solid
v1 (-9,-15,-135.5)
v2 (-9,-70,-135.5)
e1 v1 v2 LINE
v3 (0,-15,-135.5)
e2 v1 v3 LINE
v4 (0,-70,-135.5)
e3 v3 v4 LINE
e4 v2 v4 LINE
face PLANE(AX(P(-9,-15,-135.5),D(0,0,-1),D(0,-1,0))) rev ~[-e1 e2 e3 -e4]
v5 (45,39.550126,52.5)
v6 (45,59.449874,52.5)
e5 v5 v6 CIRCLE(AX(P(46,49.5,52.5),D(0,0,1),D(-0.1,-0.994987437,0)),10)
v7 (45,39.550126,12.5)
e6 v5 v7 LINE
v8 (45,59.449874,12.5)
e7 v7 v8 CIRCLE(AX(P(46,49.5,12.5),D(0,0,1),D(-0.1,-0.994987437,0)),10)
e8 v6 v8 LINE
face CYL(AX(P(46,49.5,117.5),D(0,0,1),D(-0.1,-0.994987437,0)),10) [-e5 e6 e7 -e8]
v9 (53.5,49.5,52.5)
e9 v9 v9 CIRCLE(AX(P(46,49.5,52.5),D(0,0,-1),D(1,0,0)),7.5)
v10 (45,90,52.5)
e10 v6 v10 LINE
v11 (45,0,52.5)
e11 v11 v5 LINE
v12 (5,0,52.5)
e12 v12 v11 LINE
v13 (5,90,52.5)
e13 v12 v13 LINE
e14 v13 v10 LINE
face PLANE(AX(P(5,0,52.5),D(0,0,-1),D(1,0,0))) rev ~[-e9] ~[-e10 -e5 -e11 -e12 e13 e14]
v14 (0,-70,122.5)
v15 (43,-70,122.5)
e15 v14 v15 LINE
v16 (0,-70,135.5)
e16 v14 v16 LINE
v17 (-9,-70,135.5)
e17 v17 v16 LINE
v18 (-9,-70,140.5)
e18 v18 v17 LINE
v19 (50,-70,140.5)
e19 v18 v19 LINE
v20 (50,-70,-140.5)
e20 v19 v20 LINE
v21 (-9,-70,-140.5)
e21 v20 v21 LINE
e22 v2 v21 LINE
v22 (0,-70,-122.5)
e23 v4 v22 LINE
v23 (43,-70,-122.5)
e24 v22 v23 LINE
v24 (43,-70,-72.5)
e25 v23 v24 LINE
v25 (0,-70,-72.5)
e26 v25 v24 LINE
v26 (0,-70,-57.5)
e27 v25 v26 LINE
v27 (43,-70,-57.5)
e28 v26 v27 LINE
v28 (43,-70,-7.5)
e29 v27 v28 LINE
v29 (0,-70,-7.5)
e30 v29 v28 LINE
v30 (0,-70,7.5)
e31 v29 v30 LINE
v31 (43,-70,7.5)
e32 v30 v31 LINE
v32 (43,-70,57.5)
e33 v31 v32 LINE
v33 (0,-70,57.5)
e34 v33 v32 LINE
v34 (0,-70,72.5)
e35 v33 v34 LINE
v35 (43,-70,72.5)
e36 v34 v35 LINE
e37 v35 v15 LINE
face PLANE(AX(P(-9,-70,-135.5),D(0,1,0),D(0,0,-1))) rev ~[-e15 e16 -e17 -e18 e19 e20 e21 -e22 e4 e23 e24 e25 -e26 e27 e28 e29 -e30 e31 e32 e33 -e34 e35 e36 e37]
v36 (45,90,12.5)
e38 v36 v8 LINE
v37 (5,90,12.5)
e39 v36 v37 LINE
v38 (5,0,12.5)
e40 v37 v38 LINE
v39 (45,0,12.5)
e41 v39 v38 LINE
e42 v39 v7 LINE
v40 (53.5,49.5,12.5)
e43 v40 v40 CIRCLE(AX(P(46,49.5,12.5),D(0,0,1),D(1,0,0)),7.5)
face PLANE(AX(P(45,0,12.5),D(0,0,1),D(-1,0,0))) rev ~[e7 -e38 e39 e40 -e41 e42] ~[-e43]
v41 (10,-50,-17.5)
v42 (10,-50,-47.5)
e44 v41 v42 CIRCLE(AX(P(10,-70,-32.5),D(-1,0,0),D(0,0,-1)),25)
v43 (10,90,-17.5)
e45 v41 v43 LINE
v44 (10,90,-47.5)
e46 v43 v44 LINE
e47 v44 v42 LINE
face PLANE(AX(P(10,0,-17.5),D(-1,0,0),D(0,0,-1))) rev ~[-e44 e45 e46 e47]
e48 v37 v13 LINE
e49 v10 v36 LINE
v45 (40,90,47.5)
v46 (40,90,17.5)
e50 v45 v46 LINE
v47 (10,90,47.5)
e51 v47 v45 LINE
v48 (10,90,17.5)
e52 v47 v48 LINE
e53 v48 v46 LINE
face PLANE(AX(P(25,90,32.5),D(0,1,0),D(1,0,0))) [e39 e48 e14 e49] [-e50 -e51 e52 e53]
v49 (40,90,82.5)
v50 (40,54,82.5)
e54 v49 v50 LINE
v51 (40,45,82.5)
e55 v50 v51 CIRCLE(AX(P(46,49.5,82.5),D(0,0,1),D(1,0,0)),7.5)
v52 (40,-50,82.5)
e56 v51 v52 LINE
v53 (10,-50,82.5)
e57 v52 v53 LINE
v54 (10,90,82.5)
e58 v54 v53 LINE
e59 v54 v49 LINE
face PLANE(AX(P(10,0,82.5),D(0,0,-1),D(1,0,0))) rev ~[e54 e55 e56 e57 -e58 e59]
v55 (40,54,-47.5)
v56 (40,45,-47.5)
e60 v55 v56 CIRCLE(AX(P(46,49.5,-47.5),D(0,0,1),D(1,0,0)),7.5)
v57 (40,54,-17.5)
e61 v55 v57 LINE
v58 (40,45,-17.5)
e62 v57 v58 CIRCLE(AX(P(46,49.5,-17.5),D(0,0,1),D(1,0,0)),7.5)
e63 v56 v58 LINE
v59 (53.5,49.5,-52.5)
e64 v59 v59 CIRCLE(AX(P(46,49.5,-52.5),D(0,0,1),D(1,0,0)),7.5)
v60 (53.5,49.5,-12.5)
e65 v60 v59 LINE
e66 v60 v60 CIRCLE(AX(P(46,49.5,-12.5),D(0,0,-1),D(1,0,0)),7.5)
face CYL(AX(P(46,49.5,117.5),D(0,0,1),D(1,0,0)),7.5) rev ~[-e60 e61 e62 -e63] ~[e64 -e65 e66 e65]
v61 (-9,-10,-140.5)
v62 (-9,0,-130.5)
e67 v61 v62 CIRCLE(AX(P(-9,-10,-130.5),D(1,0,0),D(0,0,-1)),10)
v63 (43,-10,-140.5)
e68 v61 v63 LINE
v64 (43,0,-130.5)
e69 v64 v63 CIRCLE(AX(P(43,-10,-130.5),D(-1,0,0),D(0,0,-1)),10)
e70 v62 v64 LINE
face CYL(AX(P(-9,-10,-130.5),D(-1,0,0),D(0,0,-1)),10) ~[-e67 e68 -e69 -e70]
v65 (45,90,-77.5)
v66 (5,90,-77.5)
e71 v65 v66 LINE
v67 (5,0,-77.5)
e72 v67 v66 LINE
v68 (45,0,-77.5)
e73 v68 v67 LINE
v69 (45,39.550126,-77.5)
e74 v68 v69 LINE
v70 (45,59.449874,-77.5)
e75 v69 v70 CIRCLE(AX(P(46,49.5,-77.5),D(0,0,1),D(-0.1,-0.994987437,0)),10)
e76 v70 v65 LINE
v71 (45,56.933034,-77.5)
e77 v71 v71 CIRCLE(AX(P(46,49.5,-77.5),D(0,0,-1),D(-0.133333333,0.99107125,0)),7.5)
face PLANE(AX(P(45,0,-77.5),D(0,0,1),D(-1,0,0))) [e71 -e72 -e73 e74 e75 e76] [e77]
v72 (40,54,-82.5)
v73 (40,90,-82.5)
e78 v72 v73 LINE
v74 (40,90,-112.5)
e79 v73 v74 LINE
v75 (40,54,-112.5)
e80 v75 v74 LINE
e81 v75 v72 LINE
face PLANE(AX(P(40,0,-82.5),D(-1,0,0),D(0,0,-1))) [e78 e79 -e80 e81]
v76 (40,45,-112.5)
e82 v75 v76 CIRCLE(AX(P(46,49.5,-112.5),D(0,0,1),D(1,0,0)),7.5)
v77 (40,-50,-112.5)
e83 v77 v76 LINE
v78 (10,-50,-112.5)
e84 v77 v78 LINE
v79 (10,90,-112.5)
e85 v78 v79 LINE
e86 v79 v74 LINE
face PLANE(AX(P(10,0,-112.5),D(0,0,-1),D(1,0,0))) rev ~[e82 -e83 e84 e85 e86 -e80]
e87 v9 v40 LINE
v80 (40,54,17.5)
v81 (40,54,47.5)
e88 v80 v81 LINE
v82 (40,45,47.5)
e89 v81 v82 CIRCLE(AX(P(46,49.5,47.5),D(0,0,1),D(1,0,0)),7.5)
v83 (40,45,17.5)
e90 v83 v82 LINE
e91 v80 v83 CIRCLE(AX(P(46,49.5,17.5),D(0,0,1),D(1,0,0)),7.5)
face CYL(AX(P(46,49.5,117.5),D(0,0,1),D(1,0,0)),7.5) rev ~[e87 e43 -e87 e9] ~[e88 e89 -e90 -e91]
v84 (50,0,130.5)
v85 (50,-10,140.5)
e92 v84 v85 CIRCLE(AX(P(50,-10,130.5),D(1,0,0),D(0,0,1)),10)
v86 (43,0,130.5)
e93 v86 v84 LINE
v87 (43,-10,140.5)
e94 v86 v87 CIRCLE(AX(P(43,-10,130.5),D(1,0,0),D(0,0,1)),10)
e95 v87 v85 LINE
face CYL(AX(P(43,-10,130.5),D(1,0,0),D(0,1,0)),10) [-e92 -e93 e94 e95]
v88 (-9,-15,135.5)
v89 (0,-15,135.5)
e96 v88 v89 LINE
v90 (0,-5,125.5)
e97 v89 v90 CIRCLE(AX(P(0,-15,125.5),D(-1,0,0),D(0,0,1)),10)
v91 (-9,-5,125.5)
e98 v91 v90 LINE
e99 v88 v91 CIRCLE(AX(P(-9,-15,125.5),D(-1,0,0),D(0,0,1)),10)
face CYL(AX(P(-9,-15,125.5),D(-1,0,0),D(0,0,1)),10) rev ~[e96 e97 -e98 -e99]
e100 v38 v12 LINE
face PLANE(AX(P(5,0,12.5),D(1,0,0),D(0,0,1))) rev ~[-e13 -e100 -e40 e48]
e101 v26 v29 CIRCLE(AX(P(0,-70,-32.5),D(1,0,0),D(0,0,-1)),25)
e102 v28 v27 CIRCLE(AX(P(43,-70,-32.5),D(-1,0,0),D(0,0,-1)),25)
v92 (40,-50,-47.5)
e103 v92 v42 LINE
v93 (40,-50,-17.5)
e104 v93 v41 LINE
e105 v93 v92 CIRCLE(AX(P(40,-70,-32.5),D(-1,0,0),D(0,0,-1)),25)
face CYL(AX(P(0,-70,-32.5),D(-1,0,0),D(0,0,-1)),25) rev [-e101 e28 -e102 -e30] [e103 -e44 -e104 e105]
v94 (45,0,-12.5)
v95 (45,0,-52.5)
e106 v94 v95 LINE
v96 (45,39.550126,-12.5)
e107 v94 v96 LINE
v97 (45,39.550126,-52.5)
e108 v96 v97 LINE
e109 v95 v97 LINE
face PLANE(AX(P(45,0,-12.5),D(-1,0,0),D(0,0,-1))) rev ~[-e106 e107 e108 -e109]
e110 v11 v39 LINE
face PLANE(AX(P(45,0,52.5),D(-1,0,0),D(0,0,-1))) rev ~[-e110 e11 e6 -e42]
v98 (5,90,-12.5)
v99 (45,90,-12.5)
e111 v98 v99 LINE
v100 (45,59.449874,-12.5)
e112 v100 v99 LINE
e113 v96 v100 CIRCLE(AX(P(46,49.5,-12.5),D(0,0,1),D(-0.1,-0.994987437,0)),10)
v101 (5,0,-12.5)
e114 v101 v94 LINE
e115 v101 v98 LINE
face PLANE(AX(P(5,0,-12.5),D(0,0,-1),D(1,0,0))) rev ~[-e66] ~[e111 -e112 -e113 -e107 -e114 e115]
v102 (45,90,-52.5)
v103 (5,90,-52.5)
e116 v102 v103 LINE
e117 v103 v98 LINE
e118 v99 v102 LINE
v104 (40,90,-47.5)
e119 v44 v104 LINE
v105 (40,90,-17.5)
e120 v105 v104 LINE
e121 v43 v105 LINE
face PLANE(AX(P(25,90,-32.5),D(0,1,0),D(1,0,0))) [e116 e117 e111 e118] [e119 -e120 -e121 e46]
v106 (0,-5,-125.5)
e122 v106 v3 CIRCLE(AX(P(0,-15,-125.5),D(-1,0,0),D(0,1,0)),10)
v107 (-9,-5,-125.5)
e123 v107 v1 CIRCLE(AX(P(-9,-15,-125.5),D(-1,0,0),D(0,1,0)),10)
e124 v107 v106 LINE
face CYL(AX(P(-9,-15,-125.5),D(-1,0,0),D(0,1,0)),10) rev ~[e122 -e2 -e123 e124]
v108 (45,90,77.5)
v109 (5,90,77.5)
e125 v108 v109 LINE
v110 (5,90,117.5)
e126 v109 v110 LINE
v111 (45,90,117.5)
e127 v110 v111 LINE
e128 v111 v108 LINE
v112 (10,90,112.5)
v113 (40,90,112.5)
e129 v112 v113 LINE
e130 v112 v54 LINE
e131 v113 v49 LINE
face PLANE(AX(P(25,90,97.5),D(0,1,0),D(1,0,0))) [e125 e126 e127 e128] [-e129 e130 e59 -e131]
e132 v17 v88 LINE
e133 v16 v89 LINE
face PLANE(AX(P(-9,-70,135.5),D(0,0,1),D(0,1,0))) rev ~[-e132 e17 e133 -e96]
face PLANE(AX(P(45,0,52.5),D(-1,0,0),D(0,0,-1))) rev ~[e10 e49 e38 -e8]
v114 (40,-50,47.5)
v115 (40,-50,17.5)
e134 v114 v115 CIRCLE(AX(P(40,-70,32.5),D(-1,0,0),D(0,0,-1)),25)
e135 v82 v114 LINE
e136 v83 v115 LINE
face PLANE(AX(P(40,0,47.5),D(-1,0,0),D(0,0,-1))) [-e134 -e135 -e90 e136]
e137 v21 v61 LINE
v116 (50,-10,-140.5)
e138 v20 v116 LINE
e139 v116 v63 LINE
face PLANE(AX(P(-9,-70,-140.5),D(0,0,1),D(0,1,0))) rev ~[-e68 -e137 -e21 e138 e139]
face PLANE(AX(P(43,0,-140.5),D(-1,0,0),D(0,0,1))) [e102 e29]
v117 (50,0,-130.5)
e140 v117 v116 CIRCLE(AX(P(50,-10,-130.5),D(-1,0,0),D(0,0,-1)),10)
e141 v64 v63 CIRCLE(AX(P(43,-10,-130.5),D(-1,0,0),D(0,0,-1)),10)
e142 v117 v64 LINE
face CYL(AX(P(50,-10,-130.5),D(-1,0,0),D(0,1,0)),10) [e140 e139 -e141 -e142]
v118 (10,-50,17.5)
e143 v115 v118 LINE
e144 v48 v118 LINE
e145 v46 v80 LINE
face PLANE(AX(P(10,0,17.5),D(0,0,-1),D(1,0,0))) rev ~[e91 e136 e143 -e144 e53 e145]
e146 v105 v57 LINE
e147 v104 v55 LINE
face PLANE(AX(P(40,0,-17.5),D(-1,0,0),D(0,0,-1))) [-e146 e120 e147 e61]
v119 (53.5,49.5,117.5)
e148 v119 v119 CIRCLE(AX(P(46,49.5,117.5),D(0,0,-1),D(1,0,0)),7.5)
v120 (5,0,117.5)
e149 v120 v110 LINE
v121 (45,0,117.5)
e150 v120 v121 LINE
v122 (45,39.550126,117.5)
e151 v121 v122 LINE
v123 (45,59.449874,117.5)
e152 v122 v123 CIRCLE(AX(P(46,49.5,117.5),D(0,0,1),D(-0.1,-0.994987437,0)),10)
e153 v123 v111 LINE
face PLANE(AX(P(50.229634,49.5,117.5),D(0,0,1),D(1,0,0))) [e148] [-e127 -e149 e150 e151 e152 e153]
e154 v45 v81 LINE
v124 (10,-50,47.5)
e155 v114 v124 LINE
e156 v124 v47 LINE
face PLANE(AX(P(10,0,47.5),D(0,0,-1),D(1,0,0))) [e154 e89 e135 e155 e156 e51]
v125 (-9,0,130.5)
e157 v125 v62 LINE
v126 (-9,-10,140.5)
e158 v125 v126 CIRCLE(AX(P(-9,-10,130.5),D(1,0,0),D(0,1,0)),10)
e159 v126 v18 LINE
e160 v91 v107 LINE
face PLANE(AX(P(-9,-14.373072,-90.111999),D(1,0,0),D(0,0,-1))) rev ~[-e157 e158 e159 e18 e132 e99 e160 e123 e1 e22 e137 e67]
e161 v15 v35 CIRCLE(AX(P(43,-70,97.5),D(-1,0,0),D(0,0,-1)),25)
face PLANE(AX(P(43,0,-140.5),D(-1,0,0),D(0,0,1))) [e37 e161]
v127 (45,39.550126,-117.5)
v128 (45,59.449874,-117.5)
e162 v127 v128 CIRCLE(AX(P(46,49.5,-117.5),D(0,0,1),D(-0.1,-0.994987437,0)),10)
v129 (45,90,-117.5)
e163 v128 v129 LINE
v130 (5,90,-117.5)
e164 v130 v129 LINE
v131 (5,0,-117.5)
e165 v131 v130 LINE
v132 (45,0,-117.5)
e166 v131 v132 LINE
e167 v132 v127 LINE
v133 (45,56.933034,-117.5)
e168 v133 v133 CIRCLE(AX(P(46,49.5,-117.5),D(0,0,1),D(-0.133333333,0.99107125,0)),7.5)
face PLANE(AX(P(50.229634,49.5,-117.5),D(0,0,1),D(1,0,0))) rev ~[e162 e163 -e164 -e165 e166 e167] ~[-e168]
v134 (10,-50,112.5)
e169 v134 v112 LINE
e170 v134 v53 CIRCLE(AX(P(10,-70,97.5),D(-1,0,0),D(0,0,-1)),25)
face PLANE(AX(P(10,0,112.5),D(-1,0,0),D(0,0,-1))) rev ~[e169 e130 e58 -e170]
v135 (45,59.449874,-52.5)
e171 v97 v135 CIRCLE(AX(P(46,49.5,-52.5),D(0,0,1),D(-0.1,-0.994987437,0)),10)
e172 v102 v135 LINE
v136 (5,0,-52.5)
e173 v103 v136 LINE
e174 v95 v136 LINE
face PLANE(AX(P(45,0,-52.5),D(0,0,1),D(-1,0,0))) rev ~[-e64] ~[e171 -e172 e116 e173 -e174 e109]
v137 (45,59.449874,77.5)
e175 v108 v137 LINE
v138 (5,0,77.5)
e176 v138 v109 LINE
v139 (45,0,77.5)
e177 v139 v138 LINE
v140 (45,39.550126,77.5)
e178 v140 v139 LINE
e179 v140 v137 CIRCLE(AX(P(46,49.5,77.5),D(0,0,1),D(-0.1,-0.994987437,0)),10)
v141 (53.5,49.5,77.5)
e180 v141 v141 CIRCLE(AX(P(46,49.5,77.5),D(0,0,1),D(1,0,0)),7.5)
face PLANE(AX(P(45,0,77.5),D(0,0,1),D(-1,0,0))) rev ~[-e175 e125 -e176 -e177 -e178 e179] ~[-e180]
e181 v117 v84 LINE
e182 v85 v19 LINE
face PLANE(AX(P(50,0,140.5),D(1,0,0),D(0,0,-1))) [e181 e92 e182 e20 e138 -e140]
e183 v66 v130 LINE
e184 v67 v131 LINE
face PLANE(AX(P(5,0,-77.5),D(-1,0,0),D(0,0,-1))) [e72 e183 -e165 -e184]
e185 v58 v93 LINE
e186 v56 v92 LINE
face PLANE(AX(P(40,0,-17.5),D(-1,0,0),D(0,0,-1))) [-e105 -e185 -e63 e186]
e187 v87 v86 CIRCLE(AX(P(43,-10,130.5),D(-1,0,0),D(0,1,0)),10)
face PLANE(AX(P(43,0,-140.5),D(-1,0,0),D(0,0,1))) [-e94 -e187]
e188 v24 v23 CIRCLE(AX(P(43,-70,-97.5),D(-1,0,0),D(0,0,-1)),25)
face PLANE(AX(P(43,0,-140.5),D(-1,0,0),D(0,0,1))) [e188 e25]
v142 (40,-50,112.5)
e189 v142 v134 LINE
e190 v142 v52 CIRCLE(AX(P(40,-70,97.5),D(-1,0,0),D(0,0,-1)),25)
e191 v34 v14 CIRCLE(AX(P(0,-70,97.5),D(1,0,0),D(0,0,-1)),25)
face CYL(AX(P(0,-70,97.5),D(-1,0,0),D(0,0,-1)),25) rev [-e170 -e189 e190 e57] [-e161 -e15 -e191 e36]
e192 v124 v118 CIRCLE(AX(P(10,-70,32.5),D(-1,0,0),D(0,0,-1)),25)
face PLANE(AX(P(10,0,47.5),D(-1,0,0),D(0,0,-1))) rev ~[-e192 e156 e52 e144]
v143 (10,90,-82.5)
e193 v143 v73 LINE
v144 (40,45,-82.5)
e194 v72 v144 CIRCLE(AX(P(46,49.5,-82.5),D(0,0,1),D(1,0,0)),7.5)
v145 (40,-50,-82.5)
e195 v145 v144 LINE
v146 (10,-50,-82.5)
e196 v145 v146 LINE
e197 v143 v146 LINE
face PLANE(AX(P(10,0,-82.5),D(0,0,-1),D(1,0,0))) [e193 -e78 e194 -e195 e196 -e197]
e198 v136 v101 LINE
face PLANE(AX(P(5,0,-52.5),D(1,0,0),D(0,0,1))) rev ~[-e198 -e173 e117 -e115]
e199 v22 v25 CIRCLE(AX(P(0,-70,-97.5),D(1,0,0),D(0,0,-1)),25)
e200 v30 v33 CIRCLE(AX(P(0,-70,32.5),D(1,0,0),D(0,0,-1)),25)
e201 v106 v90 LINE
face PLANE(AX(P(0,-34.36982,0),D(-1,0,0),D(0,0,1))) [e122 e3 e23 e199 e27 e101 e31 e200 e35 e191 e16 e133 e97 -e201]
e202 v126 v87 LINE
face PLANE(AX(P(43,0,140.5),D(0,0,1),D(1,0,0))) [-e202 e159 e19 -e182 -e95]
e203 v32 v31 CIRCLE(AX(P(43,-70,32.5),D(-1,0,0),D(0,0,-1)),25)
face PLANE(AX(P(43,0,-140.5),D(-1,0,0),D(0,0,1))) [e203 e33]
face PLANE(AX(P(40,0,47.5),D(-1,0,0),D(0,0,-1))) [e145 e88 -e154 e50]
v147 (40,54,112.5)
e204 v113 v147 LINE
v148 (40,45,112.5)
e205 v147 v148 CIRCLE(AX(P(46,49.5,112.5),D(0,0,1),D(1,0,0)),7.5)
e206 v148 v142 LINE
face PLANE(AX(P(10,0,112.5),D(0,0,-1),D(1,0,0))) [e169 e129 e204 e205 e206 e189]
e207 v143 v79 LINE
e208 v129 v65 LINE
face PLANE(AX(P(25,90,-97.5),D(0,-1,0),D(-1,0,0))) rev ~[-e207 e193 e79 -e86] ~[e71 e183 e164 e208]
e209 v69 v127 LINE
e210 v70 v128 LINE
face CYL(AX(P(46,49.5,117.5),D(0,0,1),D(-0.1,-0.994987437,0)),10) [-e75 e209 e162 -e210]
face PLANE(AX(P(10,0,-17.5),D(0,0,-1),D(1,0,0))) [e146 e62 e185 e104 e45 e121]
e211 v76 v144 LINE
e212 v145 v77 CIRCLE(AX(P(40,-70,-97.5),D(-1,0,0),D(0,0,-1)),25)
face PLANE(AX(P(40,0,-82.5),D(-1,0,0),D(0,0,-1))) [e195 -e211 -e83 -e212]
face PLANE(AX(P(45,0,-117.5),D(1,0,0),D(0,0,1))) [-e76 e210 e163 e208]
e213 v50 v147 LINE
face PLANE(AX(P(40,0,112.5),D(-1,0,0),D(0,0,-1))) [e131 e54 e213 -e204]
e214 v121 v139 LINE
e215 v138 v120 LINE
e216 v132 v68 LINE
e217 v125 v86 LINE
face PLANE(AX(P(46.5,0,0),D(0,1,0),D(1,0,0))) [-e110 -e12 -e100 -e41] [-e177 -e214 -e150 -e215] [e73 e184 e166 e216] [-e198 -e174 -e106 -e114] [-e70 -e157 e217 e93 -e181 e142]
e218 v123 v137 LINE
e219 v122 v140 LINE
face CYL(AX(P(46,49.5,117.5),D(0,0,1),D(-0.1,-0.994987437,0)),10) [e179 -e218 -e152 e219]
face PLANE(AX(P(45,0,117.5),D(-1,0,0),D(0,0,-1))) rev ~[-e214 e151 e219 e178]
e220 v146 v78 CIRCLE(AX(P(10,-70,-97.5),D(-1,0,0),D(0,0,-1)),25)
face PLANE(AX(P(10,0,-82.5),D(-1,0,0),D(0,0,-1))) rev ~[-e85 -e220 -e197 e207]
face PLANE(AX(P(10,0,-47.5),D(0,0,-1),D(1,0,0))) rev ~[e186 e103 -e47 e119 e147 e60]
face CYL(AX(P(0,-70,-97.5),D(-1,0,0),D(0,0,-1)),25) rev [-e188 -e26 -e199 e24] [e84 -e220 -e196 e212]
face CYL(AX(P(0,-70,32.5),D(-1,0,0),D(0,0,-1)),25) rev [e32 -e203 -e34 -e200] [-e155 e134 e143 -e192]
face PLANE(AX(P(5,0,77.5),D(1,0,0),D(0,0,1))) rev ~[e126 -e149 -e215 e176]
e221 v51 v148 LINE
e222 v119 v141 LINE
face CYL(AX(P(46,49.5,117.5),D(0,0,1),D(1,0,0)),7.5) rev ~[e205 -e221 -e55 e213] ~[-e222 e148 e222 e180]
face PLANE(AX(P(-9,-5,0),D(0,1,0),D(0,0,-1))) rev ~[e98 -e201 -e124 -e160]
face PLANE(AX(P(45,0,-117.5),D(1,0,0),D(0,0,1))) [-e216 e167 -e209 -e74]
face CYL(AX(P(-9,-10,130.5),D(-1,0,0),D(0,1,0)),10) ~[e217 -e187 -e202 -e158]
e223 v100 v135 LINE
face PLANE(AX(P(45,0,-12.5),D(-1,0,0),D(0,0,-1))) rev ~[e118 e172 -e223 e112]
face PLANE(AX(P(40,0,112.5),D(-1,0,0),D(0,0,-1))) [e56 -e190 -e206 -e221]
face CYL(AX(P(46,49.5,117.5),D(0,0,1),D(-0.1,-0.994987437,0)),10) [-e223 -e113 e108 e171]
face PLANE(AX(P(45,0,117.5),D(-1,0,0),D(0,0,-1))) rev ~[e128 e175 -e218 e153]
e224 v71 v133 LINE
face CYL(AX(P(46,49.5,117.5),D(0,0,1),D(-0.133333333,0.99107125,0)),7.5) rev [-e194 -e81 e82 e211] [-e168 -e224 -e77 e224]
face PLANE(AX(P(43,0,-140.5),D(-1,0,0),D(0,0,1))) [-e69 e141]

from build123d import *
from build123d.topology import SkipClean

# Parameters (mm, degrees)
BOSS_EXTRUDE1_DEPTH     = 50
BOSS_EXTRUDE2_START     = 9
BOSS_EXTRUDE2_DEPTH     = 9
BOSS_EXTRUDE3_START     = 9
BOSS_EXTRUDE3_DEPTH     = 9
BOSS_EXTRUDE4_DEPTH     = 70
CUT_EXTRUDE2_DEPTH      = 165.74298164110058
CUT_EXTRUDE2_DEPTH_BACK = 165.74298164110058
SKETCH10_W              = 30.000000000000007
SKETCH10_H              = 30
SKETCH10_W_2            = 30.00000000000001
SKETCH10_H_2            = 29.999999999999996
BOSS_EXTRUDE7_DEPTH     = 90
BOSS_EXTRUDE8_DEPTH     = 235
SKETCH12_W              = 24.999999999999993
SKETCH12_H              = 40.90326072663956
SKETCH12_H_2            = 38.73852460954424
SKETCH12_W_2            = 25.000000000000007
SKETCH12_H_3            = 39.91957718910348
CUT_EXTRUDE3_DEPTH      = 235
SKETCH13_R              = 7.499999999999999
CUT_EXTRUDE4_DEPTH      = 235
FILLET1_R               = 10


with BuildPart() as part:
    # Sketch1 → Boss-Extrude1 (new body)
    with BuildSketch(Plane(origin=(0, 0, 0), x_dir=(0, 0, -1), z_dir=(1, 0, 0))):
        with BuildLine():
            Line((-130.5, 0), (130.5, 0))
            ThreePointArc((130.5, 0), (137.57106781186548, -2.9289321881345245), (140.5, -9.999999999999998))
            Line((140.5, -9.999999999999998), (140.5, -69.99999999999999))
            Line((140.5, -69.99999999999999), (122.5, -70))
            ThreePointArc((122.5, -70), (97.5, -45), (72.50000000000001, -70))
            Line((72.50000000000001, -70), (57.5, -70))
            ThreePointArc((57.5, -70), (32.5, -45), (7.5, -70))
            Line((7.5, -70), (-7.5, -70))
            ThreePointArc((-7.5, -70), (-32.5, -45), (-57.5, -70))
            Line((-57.5, -70), (-72.50000000000001, -70))
            ThreePointArc((-72.50000000000001, -70), (-97.5, -45), (-122.5, -70))
            Line((-122.5, -70), (-140.5, -69.99999999999999))
            Line((-140.5, -69.99999999999999), (-140.5, -9.999999999999998))
            ThreePointArc((-140.5, -9.999999999999998), (-137.57106781186548, -2.9289321881345245), (-130.5, 0))
        make_face()
    extrude(amount=BOSS_EXTRUDE1_DEPTH)

    # Sketch2 → Boss-Extrude2 (add)
    with BuildSketch(Plane.ZY.offset(BOSS_EXTRUDE2_START)):
        with BuildLine():
            Line((0, 0), (130.5, 0))
            ThreePointArc((130.5, 0), (137.57106781186548, -2.9289321881345236), (140.5, -9.999999999999998))
            Line((140.5, -9.999999999999998), (140.5, -69.99999999999999))
            Line((140.5, -69.99999999999999), (135.5, -69.99999999999999))
            Line((135.5, -69.99999999999999), (135.5, -15))
            ThreePointArc((135.5, -15), (132.57106781186548, -7.928932188134525), (125.5, -5.000000000000002))
            Line((125.5, -5.000000000000002), (0, -5.000000000000017))
            Line((0, -5.000000000000017), (0, 0))
        make_face()
    extrude(amount=-BOSS_EXTRUDE2_DEPTH)

    # Sketch3 → Boss-Extrude3 (add)
    with BuildSketch(Plane.ZY.offset(BOSS_EXTRUDE3_START)):
        with BuildLine():
            Line((0, 0), (0, -5.000000000000017))
            Line((0, -5.000000000000017), (-125.5, -5.000000000000032))
            ThreePointArc((-125.5, -5.000000000000032), (-132.57106781186548, -7.9289321881345565), (-135.5, -15.000000000000034))
            Line((-135.5, -15.000000000000034), (-135.5, -69.99999999999999))
            Line((-135.5, -69.99999999999999), (-140.5, -69.99999999999999))
            Line((-140.5, -69.99999999999999), (-140.5, -10.00000000000007))
            ThreePointArc((-140.5, -10.00000000000007), (-137.5710678118655, -2.9289321881345742), (-130.50000000000003, 5.2e-15))
            Line((-130.50000000000003, 5.2e-15), (0, 0))
        make_face()
    extrude(amount=-BOSS_EXTRUDE3_DEPTH)

    # Sketch6 → Boss-Extrude4 (add)
    with BuildSketch(Plane(origin=(0, 0, 0), x_dir=(1, 0, 0), z_dir=(0, 1, 0))):
        Polygon((50, -140.5), (50, 140.5), (43, 140.5), (43.000000000000036, -140.5), align=None)
    extrude(amount=-BOSS_EXTRUDE4_DEPTH)

    # Sketch9 → Cut-Extrude2 (cut, two sides: drawn at the far end of the back side and taken through both)
    with BuildSketch(Plane(origin=(0, 0, 0), x_dir=(1, 0, 0), z_dir=(0, 1, 0)).offset(-CUT_EXTRUDE2_DEPTH_BACK)):
        Polygon((40.000000000000675, 47.5), (40.00000000000068, 17.49999999999999), (10.000000000000675, 17.49999999999999), (10.000000000000671, 47.499999999999986), align=None)
        Polygon((39.99999999999999, 112.5), (9.999999999999995, 112.49999999999999), (9.999999999999998, 82.49999999999999), (40, 82.49999999999999), align=None)
        Polygon((40.00000000000135, -17.5), (40.00000000000136, -47.500000000000014), (10.000000000001352, -47.500000000000014), (10.000000000001348, -17.500000000000014), align=None)
        Polygon((40.000000000002025, -82.5), (40.00000000000203, -112.50000000000001), (10.00000000000203, -112.50000000000001), (10.000000000002027, -82.50000000000001), align=None)
    extrude(amount=CUT_EXTRUDE2_DEPTH + CUT_EXTRUDE2_DEPTH_BACK, mode=Mode.SUBTRACT)

    # Sketch10 → Boss-Extrude7 (add)
    # profile 1 of 4: a face of its own
    with BuildSketch(Plane(origin=(0, 0, 0), x_dir=(1, 0, 0), z_dir=(0, 1, 0))):
        Polygon((4.99999999999999, 117.5), (44.99999999999999, 117.5), (45, 77.49999999999999), (4.999999999999995, 77.49999999999999), align=None)
        with Locations((24.999999999999996, 97.49999999999999)):
            Rectangle(SKETCH10_W, SKETCH10_H, mode=Mode.SUBTRACT)
    # profile 2 of 4: a face of its own
    with BuildSketch(Plane(origin=(0, 0, 0), x_dir=(1, 0, 0), z_dir=(0, 1, 0))):
        Polygon((5.000000000000667, 52.49999999999999), (5.0000000000006715, 12.499999999999984), (45.000000000000675, 12.499999999999984), (45.00000000000067, 52.49999999999999), align=None)
        with Locations((25.000000000000675, 32.499999999999986)):
            Rectangle(SKETCH10_W_2, SKETCH10_H_2, mode=Mode.SUBTRACT)
    # profile 3 of 4: a face of its own
    with BuildSketch(Plane(origin=(0, 0, 0), x_dir=(1, 0, 0), z_dir=(0, 1, 0))):
        Polygon((5.000000000001345, -12.50000000000001), (5.000000000001349, -52.50000000000002), (45.00000000000135, -52.50000000000002), (45.00000000000134, -12.50000000000001), align=None)
        with Locations((25.000000000001354, -32.500000000000014)):
            Rectangle(SKETCH10_W, SKETCH10_H, mode=Mode.SUBTRACT)
    # profile 4 of 4: a face of its own
    with BuildSketch(Plane(origin=(0, 0, 0), x_dir=(1, 0, 0), z_dir=(0, 1, 0))):
        Polygon((5.0000000000020215, -77.50000000000001), (5.000000000002025, -117.50000000000001), (45.00000000000203, -117.50000000000001), (45.000000000002025, -77.50000000000001), align=None)
        with Locations((25.00000000000203, -97.50000000000001)):
            Rectangle(SKETCH10_W, SKETCH10_H, mode=Mode.SUBTRACT)
    extrude(amount=BOSS_EXTRUDE7_DEPTH)

    # Sketch11 → Boss-Extrude8 (add)
    with BuildSketch(Plane.XY.offset(117.50000000000001)):
        with BuildLine():
            Line((45.00000000000203, 59.449874371066194), (45.00000000000203, 56.93303437365923))
            ThreePointArc((45.00000000000203, 56.93303437365923), (53.50000000000204, 49.499999999999986), (45.00000000000203, 42.06696562634074))
            Line((45.00000000000203, 42.06696562634074), (45.00000000000203, 39.55012562893379))
            ThreePointArc((45.00000000000203, 39.5501256289338), (56.000000000002046, 49.5), (45.00000000000203, 59.4498743710662))
        make_face()
    extrude(amount=-BOSS_EXTRUDE8_DEPTH)

    # Sketch12 → Cut-Extrude3 (cut)
    with BuildSketch(Plane(origin=(0, 0, 0), x_dir=(0, 0, -1), z_dir=(1, 0, 0))):
        with Locations((-65.00000000000001, 54.273306822213314)):
            Rectangle(SKETCH12_W, SKETCH12_H)
        with Locations((-1.421e-14, 51.301254636370814)):
            Rectangle(SKETCH12_W, SKETCH12_H_2)
        with Locations((65, 47.16757060791335)):
            Rectangle(SKETCH12_W_2, SKETCH12_H_3)
    extrude(amount=CUT_EXTRUDE3_DEPTH, mode=Mode.SUBTRACT)

    # Sketch13 → Cut-Extrude4 (cut)
    with SkipClean():  # the faces are left unmerged after this step: merging them gives an invalid solid
        with BuildSketch(Plane.XY.offset(117.50000000000001)):
            with Locations((46.000000000002046, 49.499999999999986)):
                Circle(SKETCH13_R)
        extrude(amount=-CUT_EXTRUDE4_DEPTH, mode=Mode.SUBTRACT)

    # Fillet1
    fillet1_edges = [part.edges().sort_by_distance(p)[0] for p in [
        (46.500000000000014, 0, 140.5),
        (46.5, 0, -140.5),
    ]]
    fillet(fillet1_edges, radius=FILLET1_R)


solid = part.part
